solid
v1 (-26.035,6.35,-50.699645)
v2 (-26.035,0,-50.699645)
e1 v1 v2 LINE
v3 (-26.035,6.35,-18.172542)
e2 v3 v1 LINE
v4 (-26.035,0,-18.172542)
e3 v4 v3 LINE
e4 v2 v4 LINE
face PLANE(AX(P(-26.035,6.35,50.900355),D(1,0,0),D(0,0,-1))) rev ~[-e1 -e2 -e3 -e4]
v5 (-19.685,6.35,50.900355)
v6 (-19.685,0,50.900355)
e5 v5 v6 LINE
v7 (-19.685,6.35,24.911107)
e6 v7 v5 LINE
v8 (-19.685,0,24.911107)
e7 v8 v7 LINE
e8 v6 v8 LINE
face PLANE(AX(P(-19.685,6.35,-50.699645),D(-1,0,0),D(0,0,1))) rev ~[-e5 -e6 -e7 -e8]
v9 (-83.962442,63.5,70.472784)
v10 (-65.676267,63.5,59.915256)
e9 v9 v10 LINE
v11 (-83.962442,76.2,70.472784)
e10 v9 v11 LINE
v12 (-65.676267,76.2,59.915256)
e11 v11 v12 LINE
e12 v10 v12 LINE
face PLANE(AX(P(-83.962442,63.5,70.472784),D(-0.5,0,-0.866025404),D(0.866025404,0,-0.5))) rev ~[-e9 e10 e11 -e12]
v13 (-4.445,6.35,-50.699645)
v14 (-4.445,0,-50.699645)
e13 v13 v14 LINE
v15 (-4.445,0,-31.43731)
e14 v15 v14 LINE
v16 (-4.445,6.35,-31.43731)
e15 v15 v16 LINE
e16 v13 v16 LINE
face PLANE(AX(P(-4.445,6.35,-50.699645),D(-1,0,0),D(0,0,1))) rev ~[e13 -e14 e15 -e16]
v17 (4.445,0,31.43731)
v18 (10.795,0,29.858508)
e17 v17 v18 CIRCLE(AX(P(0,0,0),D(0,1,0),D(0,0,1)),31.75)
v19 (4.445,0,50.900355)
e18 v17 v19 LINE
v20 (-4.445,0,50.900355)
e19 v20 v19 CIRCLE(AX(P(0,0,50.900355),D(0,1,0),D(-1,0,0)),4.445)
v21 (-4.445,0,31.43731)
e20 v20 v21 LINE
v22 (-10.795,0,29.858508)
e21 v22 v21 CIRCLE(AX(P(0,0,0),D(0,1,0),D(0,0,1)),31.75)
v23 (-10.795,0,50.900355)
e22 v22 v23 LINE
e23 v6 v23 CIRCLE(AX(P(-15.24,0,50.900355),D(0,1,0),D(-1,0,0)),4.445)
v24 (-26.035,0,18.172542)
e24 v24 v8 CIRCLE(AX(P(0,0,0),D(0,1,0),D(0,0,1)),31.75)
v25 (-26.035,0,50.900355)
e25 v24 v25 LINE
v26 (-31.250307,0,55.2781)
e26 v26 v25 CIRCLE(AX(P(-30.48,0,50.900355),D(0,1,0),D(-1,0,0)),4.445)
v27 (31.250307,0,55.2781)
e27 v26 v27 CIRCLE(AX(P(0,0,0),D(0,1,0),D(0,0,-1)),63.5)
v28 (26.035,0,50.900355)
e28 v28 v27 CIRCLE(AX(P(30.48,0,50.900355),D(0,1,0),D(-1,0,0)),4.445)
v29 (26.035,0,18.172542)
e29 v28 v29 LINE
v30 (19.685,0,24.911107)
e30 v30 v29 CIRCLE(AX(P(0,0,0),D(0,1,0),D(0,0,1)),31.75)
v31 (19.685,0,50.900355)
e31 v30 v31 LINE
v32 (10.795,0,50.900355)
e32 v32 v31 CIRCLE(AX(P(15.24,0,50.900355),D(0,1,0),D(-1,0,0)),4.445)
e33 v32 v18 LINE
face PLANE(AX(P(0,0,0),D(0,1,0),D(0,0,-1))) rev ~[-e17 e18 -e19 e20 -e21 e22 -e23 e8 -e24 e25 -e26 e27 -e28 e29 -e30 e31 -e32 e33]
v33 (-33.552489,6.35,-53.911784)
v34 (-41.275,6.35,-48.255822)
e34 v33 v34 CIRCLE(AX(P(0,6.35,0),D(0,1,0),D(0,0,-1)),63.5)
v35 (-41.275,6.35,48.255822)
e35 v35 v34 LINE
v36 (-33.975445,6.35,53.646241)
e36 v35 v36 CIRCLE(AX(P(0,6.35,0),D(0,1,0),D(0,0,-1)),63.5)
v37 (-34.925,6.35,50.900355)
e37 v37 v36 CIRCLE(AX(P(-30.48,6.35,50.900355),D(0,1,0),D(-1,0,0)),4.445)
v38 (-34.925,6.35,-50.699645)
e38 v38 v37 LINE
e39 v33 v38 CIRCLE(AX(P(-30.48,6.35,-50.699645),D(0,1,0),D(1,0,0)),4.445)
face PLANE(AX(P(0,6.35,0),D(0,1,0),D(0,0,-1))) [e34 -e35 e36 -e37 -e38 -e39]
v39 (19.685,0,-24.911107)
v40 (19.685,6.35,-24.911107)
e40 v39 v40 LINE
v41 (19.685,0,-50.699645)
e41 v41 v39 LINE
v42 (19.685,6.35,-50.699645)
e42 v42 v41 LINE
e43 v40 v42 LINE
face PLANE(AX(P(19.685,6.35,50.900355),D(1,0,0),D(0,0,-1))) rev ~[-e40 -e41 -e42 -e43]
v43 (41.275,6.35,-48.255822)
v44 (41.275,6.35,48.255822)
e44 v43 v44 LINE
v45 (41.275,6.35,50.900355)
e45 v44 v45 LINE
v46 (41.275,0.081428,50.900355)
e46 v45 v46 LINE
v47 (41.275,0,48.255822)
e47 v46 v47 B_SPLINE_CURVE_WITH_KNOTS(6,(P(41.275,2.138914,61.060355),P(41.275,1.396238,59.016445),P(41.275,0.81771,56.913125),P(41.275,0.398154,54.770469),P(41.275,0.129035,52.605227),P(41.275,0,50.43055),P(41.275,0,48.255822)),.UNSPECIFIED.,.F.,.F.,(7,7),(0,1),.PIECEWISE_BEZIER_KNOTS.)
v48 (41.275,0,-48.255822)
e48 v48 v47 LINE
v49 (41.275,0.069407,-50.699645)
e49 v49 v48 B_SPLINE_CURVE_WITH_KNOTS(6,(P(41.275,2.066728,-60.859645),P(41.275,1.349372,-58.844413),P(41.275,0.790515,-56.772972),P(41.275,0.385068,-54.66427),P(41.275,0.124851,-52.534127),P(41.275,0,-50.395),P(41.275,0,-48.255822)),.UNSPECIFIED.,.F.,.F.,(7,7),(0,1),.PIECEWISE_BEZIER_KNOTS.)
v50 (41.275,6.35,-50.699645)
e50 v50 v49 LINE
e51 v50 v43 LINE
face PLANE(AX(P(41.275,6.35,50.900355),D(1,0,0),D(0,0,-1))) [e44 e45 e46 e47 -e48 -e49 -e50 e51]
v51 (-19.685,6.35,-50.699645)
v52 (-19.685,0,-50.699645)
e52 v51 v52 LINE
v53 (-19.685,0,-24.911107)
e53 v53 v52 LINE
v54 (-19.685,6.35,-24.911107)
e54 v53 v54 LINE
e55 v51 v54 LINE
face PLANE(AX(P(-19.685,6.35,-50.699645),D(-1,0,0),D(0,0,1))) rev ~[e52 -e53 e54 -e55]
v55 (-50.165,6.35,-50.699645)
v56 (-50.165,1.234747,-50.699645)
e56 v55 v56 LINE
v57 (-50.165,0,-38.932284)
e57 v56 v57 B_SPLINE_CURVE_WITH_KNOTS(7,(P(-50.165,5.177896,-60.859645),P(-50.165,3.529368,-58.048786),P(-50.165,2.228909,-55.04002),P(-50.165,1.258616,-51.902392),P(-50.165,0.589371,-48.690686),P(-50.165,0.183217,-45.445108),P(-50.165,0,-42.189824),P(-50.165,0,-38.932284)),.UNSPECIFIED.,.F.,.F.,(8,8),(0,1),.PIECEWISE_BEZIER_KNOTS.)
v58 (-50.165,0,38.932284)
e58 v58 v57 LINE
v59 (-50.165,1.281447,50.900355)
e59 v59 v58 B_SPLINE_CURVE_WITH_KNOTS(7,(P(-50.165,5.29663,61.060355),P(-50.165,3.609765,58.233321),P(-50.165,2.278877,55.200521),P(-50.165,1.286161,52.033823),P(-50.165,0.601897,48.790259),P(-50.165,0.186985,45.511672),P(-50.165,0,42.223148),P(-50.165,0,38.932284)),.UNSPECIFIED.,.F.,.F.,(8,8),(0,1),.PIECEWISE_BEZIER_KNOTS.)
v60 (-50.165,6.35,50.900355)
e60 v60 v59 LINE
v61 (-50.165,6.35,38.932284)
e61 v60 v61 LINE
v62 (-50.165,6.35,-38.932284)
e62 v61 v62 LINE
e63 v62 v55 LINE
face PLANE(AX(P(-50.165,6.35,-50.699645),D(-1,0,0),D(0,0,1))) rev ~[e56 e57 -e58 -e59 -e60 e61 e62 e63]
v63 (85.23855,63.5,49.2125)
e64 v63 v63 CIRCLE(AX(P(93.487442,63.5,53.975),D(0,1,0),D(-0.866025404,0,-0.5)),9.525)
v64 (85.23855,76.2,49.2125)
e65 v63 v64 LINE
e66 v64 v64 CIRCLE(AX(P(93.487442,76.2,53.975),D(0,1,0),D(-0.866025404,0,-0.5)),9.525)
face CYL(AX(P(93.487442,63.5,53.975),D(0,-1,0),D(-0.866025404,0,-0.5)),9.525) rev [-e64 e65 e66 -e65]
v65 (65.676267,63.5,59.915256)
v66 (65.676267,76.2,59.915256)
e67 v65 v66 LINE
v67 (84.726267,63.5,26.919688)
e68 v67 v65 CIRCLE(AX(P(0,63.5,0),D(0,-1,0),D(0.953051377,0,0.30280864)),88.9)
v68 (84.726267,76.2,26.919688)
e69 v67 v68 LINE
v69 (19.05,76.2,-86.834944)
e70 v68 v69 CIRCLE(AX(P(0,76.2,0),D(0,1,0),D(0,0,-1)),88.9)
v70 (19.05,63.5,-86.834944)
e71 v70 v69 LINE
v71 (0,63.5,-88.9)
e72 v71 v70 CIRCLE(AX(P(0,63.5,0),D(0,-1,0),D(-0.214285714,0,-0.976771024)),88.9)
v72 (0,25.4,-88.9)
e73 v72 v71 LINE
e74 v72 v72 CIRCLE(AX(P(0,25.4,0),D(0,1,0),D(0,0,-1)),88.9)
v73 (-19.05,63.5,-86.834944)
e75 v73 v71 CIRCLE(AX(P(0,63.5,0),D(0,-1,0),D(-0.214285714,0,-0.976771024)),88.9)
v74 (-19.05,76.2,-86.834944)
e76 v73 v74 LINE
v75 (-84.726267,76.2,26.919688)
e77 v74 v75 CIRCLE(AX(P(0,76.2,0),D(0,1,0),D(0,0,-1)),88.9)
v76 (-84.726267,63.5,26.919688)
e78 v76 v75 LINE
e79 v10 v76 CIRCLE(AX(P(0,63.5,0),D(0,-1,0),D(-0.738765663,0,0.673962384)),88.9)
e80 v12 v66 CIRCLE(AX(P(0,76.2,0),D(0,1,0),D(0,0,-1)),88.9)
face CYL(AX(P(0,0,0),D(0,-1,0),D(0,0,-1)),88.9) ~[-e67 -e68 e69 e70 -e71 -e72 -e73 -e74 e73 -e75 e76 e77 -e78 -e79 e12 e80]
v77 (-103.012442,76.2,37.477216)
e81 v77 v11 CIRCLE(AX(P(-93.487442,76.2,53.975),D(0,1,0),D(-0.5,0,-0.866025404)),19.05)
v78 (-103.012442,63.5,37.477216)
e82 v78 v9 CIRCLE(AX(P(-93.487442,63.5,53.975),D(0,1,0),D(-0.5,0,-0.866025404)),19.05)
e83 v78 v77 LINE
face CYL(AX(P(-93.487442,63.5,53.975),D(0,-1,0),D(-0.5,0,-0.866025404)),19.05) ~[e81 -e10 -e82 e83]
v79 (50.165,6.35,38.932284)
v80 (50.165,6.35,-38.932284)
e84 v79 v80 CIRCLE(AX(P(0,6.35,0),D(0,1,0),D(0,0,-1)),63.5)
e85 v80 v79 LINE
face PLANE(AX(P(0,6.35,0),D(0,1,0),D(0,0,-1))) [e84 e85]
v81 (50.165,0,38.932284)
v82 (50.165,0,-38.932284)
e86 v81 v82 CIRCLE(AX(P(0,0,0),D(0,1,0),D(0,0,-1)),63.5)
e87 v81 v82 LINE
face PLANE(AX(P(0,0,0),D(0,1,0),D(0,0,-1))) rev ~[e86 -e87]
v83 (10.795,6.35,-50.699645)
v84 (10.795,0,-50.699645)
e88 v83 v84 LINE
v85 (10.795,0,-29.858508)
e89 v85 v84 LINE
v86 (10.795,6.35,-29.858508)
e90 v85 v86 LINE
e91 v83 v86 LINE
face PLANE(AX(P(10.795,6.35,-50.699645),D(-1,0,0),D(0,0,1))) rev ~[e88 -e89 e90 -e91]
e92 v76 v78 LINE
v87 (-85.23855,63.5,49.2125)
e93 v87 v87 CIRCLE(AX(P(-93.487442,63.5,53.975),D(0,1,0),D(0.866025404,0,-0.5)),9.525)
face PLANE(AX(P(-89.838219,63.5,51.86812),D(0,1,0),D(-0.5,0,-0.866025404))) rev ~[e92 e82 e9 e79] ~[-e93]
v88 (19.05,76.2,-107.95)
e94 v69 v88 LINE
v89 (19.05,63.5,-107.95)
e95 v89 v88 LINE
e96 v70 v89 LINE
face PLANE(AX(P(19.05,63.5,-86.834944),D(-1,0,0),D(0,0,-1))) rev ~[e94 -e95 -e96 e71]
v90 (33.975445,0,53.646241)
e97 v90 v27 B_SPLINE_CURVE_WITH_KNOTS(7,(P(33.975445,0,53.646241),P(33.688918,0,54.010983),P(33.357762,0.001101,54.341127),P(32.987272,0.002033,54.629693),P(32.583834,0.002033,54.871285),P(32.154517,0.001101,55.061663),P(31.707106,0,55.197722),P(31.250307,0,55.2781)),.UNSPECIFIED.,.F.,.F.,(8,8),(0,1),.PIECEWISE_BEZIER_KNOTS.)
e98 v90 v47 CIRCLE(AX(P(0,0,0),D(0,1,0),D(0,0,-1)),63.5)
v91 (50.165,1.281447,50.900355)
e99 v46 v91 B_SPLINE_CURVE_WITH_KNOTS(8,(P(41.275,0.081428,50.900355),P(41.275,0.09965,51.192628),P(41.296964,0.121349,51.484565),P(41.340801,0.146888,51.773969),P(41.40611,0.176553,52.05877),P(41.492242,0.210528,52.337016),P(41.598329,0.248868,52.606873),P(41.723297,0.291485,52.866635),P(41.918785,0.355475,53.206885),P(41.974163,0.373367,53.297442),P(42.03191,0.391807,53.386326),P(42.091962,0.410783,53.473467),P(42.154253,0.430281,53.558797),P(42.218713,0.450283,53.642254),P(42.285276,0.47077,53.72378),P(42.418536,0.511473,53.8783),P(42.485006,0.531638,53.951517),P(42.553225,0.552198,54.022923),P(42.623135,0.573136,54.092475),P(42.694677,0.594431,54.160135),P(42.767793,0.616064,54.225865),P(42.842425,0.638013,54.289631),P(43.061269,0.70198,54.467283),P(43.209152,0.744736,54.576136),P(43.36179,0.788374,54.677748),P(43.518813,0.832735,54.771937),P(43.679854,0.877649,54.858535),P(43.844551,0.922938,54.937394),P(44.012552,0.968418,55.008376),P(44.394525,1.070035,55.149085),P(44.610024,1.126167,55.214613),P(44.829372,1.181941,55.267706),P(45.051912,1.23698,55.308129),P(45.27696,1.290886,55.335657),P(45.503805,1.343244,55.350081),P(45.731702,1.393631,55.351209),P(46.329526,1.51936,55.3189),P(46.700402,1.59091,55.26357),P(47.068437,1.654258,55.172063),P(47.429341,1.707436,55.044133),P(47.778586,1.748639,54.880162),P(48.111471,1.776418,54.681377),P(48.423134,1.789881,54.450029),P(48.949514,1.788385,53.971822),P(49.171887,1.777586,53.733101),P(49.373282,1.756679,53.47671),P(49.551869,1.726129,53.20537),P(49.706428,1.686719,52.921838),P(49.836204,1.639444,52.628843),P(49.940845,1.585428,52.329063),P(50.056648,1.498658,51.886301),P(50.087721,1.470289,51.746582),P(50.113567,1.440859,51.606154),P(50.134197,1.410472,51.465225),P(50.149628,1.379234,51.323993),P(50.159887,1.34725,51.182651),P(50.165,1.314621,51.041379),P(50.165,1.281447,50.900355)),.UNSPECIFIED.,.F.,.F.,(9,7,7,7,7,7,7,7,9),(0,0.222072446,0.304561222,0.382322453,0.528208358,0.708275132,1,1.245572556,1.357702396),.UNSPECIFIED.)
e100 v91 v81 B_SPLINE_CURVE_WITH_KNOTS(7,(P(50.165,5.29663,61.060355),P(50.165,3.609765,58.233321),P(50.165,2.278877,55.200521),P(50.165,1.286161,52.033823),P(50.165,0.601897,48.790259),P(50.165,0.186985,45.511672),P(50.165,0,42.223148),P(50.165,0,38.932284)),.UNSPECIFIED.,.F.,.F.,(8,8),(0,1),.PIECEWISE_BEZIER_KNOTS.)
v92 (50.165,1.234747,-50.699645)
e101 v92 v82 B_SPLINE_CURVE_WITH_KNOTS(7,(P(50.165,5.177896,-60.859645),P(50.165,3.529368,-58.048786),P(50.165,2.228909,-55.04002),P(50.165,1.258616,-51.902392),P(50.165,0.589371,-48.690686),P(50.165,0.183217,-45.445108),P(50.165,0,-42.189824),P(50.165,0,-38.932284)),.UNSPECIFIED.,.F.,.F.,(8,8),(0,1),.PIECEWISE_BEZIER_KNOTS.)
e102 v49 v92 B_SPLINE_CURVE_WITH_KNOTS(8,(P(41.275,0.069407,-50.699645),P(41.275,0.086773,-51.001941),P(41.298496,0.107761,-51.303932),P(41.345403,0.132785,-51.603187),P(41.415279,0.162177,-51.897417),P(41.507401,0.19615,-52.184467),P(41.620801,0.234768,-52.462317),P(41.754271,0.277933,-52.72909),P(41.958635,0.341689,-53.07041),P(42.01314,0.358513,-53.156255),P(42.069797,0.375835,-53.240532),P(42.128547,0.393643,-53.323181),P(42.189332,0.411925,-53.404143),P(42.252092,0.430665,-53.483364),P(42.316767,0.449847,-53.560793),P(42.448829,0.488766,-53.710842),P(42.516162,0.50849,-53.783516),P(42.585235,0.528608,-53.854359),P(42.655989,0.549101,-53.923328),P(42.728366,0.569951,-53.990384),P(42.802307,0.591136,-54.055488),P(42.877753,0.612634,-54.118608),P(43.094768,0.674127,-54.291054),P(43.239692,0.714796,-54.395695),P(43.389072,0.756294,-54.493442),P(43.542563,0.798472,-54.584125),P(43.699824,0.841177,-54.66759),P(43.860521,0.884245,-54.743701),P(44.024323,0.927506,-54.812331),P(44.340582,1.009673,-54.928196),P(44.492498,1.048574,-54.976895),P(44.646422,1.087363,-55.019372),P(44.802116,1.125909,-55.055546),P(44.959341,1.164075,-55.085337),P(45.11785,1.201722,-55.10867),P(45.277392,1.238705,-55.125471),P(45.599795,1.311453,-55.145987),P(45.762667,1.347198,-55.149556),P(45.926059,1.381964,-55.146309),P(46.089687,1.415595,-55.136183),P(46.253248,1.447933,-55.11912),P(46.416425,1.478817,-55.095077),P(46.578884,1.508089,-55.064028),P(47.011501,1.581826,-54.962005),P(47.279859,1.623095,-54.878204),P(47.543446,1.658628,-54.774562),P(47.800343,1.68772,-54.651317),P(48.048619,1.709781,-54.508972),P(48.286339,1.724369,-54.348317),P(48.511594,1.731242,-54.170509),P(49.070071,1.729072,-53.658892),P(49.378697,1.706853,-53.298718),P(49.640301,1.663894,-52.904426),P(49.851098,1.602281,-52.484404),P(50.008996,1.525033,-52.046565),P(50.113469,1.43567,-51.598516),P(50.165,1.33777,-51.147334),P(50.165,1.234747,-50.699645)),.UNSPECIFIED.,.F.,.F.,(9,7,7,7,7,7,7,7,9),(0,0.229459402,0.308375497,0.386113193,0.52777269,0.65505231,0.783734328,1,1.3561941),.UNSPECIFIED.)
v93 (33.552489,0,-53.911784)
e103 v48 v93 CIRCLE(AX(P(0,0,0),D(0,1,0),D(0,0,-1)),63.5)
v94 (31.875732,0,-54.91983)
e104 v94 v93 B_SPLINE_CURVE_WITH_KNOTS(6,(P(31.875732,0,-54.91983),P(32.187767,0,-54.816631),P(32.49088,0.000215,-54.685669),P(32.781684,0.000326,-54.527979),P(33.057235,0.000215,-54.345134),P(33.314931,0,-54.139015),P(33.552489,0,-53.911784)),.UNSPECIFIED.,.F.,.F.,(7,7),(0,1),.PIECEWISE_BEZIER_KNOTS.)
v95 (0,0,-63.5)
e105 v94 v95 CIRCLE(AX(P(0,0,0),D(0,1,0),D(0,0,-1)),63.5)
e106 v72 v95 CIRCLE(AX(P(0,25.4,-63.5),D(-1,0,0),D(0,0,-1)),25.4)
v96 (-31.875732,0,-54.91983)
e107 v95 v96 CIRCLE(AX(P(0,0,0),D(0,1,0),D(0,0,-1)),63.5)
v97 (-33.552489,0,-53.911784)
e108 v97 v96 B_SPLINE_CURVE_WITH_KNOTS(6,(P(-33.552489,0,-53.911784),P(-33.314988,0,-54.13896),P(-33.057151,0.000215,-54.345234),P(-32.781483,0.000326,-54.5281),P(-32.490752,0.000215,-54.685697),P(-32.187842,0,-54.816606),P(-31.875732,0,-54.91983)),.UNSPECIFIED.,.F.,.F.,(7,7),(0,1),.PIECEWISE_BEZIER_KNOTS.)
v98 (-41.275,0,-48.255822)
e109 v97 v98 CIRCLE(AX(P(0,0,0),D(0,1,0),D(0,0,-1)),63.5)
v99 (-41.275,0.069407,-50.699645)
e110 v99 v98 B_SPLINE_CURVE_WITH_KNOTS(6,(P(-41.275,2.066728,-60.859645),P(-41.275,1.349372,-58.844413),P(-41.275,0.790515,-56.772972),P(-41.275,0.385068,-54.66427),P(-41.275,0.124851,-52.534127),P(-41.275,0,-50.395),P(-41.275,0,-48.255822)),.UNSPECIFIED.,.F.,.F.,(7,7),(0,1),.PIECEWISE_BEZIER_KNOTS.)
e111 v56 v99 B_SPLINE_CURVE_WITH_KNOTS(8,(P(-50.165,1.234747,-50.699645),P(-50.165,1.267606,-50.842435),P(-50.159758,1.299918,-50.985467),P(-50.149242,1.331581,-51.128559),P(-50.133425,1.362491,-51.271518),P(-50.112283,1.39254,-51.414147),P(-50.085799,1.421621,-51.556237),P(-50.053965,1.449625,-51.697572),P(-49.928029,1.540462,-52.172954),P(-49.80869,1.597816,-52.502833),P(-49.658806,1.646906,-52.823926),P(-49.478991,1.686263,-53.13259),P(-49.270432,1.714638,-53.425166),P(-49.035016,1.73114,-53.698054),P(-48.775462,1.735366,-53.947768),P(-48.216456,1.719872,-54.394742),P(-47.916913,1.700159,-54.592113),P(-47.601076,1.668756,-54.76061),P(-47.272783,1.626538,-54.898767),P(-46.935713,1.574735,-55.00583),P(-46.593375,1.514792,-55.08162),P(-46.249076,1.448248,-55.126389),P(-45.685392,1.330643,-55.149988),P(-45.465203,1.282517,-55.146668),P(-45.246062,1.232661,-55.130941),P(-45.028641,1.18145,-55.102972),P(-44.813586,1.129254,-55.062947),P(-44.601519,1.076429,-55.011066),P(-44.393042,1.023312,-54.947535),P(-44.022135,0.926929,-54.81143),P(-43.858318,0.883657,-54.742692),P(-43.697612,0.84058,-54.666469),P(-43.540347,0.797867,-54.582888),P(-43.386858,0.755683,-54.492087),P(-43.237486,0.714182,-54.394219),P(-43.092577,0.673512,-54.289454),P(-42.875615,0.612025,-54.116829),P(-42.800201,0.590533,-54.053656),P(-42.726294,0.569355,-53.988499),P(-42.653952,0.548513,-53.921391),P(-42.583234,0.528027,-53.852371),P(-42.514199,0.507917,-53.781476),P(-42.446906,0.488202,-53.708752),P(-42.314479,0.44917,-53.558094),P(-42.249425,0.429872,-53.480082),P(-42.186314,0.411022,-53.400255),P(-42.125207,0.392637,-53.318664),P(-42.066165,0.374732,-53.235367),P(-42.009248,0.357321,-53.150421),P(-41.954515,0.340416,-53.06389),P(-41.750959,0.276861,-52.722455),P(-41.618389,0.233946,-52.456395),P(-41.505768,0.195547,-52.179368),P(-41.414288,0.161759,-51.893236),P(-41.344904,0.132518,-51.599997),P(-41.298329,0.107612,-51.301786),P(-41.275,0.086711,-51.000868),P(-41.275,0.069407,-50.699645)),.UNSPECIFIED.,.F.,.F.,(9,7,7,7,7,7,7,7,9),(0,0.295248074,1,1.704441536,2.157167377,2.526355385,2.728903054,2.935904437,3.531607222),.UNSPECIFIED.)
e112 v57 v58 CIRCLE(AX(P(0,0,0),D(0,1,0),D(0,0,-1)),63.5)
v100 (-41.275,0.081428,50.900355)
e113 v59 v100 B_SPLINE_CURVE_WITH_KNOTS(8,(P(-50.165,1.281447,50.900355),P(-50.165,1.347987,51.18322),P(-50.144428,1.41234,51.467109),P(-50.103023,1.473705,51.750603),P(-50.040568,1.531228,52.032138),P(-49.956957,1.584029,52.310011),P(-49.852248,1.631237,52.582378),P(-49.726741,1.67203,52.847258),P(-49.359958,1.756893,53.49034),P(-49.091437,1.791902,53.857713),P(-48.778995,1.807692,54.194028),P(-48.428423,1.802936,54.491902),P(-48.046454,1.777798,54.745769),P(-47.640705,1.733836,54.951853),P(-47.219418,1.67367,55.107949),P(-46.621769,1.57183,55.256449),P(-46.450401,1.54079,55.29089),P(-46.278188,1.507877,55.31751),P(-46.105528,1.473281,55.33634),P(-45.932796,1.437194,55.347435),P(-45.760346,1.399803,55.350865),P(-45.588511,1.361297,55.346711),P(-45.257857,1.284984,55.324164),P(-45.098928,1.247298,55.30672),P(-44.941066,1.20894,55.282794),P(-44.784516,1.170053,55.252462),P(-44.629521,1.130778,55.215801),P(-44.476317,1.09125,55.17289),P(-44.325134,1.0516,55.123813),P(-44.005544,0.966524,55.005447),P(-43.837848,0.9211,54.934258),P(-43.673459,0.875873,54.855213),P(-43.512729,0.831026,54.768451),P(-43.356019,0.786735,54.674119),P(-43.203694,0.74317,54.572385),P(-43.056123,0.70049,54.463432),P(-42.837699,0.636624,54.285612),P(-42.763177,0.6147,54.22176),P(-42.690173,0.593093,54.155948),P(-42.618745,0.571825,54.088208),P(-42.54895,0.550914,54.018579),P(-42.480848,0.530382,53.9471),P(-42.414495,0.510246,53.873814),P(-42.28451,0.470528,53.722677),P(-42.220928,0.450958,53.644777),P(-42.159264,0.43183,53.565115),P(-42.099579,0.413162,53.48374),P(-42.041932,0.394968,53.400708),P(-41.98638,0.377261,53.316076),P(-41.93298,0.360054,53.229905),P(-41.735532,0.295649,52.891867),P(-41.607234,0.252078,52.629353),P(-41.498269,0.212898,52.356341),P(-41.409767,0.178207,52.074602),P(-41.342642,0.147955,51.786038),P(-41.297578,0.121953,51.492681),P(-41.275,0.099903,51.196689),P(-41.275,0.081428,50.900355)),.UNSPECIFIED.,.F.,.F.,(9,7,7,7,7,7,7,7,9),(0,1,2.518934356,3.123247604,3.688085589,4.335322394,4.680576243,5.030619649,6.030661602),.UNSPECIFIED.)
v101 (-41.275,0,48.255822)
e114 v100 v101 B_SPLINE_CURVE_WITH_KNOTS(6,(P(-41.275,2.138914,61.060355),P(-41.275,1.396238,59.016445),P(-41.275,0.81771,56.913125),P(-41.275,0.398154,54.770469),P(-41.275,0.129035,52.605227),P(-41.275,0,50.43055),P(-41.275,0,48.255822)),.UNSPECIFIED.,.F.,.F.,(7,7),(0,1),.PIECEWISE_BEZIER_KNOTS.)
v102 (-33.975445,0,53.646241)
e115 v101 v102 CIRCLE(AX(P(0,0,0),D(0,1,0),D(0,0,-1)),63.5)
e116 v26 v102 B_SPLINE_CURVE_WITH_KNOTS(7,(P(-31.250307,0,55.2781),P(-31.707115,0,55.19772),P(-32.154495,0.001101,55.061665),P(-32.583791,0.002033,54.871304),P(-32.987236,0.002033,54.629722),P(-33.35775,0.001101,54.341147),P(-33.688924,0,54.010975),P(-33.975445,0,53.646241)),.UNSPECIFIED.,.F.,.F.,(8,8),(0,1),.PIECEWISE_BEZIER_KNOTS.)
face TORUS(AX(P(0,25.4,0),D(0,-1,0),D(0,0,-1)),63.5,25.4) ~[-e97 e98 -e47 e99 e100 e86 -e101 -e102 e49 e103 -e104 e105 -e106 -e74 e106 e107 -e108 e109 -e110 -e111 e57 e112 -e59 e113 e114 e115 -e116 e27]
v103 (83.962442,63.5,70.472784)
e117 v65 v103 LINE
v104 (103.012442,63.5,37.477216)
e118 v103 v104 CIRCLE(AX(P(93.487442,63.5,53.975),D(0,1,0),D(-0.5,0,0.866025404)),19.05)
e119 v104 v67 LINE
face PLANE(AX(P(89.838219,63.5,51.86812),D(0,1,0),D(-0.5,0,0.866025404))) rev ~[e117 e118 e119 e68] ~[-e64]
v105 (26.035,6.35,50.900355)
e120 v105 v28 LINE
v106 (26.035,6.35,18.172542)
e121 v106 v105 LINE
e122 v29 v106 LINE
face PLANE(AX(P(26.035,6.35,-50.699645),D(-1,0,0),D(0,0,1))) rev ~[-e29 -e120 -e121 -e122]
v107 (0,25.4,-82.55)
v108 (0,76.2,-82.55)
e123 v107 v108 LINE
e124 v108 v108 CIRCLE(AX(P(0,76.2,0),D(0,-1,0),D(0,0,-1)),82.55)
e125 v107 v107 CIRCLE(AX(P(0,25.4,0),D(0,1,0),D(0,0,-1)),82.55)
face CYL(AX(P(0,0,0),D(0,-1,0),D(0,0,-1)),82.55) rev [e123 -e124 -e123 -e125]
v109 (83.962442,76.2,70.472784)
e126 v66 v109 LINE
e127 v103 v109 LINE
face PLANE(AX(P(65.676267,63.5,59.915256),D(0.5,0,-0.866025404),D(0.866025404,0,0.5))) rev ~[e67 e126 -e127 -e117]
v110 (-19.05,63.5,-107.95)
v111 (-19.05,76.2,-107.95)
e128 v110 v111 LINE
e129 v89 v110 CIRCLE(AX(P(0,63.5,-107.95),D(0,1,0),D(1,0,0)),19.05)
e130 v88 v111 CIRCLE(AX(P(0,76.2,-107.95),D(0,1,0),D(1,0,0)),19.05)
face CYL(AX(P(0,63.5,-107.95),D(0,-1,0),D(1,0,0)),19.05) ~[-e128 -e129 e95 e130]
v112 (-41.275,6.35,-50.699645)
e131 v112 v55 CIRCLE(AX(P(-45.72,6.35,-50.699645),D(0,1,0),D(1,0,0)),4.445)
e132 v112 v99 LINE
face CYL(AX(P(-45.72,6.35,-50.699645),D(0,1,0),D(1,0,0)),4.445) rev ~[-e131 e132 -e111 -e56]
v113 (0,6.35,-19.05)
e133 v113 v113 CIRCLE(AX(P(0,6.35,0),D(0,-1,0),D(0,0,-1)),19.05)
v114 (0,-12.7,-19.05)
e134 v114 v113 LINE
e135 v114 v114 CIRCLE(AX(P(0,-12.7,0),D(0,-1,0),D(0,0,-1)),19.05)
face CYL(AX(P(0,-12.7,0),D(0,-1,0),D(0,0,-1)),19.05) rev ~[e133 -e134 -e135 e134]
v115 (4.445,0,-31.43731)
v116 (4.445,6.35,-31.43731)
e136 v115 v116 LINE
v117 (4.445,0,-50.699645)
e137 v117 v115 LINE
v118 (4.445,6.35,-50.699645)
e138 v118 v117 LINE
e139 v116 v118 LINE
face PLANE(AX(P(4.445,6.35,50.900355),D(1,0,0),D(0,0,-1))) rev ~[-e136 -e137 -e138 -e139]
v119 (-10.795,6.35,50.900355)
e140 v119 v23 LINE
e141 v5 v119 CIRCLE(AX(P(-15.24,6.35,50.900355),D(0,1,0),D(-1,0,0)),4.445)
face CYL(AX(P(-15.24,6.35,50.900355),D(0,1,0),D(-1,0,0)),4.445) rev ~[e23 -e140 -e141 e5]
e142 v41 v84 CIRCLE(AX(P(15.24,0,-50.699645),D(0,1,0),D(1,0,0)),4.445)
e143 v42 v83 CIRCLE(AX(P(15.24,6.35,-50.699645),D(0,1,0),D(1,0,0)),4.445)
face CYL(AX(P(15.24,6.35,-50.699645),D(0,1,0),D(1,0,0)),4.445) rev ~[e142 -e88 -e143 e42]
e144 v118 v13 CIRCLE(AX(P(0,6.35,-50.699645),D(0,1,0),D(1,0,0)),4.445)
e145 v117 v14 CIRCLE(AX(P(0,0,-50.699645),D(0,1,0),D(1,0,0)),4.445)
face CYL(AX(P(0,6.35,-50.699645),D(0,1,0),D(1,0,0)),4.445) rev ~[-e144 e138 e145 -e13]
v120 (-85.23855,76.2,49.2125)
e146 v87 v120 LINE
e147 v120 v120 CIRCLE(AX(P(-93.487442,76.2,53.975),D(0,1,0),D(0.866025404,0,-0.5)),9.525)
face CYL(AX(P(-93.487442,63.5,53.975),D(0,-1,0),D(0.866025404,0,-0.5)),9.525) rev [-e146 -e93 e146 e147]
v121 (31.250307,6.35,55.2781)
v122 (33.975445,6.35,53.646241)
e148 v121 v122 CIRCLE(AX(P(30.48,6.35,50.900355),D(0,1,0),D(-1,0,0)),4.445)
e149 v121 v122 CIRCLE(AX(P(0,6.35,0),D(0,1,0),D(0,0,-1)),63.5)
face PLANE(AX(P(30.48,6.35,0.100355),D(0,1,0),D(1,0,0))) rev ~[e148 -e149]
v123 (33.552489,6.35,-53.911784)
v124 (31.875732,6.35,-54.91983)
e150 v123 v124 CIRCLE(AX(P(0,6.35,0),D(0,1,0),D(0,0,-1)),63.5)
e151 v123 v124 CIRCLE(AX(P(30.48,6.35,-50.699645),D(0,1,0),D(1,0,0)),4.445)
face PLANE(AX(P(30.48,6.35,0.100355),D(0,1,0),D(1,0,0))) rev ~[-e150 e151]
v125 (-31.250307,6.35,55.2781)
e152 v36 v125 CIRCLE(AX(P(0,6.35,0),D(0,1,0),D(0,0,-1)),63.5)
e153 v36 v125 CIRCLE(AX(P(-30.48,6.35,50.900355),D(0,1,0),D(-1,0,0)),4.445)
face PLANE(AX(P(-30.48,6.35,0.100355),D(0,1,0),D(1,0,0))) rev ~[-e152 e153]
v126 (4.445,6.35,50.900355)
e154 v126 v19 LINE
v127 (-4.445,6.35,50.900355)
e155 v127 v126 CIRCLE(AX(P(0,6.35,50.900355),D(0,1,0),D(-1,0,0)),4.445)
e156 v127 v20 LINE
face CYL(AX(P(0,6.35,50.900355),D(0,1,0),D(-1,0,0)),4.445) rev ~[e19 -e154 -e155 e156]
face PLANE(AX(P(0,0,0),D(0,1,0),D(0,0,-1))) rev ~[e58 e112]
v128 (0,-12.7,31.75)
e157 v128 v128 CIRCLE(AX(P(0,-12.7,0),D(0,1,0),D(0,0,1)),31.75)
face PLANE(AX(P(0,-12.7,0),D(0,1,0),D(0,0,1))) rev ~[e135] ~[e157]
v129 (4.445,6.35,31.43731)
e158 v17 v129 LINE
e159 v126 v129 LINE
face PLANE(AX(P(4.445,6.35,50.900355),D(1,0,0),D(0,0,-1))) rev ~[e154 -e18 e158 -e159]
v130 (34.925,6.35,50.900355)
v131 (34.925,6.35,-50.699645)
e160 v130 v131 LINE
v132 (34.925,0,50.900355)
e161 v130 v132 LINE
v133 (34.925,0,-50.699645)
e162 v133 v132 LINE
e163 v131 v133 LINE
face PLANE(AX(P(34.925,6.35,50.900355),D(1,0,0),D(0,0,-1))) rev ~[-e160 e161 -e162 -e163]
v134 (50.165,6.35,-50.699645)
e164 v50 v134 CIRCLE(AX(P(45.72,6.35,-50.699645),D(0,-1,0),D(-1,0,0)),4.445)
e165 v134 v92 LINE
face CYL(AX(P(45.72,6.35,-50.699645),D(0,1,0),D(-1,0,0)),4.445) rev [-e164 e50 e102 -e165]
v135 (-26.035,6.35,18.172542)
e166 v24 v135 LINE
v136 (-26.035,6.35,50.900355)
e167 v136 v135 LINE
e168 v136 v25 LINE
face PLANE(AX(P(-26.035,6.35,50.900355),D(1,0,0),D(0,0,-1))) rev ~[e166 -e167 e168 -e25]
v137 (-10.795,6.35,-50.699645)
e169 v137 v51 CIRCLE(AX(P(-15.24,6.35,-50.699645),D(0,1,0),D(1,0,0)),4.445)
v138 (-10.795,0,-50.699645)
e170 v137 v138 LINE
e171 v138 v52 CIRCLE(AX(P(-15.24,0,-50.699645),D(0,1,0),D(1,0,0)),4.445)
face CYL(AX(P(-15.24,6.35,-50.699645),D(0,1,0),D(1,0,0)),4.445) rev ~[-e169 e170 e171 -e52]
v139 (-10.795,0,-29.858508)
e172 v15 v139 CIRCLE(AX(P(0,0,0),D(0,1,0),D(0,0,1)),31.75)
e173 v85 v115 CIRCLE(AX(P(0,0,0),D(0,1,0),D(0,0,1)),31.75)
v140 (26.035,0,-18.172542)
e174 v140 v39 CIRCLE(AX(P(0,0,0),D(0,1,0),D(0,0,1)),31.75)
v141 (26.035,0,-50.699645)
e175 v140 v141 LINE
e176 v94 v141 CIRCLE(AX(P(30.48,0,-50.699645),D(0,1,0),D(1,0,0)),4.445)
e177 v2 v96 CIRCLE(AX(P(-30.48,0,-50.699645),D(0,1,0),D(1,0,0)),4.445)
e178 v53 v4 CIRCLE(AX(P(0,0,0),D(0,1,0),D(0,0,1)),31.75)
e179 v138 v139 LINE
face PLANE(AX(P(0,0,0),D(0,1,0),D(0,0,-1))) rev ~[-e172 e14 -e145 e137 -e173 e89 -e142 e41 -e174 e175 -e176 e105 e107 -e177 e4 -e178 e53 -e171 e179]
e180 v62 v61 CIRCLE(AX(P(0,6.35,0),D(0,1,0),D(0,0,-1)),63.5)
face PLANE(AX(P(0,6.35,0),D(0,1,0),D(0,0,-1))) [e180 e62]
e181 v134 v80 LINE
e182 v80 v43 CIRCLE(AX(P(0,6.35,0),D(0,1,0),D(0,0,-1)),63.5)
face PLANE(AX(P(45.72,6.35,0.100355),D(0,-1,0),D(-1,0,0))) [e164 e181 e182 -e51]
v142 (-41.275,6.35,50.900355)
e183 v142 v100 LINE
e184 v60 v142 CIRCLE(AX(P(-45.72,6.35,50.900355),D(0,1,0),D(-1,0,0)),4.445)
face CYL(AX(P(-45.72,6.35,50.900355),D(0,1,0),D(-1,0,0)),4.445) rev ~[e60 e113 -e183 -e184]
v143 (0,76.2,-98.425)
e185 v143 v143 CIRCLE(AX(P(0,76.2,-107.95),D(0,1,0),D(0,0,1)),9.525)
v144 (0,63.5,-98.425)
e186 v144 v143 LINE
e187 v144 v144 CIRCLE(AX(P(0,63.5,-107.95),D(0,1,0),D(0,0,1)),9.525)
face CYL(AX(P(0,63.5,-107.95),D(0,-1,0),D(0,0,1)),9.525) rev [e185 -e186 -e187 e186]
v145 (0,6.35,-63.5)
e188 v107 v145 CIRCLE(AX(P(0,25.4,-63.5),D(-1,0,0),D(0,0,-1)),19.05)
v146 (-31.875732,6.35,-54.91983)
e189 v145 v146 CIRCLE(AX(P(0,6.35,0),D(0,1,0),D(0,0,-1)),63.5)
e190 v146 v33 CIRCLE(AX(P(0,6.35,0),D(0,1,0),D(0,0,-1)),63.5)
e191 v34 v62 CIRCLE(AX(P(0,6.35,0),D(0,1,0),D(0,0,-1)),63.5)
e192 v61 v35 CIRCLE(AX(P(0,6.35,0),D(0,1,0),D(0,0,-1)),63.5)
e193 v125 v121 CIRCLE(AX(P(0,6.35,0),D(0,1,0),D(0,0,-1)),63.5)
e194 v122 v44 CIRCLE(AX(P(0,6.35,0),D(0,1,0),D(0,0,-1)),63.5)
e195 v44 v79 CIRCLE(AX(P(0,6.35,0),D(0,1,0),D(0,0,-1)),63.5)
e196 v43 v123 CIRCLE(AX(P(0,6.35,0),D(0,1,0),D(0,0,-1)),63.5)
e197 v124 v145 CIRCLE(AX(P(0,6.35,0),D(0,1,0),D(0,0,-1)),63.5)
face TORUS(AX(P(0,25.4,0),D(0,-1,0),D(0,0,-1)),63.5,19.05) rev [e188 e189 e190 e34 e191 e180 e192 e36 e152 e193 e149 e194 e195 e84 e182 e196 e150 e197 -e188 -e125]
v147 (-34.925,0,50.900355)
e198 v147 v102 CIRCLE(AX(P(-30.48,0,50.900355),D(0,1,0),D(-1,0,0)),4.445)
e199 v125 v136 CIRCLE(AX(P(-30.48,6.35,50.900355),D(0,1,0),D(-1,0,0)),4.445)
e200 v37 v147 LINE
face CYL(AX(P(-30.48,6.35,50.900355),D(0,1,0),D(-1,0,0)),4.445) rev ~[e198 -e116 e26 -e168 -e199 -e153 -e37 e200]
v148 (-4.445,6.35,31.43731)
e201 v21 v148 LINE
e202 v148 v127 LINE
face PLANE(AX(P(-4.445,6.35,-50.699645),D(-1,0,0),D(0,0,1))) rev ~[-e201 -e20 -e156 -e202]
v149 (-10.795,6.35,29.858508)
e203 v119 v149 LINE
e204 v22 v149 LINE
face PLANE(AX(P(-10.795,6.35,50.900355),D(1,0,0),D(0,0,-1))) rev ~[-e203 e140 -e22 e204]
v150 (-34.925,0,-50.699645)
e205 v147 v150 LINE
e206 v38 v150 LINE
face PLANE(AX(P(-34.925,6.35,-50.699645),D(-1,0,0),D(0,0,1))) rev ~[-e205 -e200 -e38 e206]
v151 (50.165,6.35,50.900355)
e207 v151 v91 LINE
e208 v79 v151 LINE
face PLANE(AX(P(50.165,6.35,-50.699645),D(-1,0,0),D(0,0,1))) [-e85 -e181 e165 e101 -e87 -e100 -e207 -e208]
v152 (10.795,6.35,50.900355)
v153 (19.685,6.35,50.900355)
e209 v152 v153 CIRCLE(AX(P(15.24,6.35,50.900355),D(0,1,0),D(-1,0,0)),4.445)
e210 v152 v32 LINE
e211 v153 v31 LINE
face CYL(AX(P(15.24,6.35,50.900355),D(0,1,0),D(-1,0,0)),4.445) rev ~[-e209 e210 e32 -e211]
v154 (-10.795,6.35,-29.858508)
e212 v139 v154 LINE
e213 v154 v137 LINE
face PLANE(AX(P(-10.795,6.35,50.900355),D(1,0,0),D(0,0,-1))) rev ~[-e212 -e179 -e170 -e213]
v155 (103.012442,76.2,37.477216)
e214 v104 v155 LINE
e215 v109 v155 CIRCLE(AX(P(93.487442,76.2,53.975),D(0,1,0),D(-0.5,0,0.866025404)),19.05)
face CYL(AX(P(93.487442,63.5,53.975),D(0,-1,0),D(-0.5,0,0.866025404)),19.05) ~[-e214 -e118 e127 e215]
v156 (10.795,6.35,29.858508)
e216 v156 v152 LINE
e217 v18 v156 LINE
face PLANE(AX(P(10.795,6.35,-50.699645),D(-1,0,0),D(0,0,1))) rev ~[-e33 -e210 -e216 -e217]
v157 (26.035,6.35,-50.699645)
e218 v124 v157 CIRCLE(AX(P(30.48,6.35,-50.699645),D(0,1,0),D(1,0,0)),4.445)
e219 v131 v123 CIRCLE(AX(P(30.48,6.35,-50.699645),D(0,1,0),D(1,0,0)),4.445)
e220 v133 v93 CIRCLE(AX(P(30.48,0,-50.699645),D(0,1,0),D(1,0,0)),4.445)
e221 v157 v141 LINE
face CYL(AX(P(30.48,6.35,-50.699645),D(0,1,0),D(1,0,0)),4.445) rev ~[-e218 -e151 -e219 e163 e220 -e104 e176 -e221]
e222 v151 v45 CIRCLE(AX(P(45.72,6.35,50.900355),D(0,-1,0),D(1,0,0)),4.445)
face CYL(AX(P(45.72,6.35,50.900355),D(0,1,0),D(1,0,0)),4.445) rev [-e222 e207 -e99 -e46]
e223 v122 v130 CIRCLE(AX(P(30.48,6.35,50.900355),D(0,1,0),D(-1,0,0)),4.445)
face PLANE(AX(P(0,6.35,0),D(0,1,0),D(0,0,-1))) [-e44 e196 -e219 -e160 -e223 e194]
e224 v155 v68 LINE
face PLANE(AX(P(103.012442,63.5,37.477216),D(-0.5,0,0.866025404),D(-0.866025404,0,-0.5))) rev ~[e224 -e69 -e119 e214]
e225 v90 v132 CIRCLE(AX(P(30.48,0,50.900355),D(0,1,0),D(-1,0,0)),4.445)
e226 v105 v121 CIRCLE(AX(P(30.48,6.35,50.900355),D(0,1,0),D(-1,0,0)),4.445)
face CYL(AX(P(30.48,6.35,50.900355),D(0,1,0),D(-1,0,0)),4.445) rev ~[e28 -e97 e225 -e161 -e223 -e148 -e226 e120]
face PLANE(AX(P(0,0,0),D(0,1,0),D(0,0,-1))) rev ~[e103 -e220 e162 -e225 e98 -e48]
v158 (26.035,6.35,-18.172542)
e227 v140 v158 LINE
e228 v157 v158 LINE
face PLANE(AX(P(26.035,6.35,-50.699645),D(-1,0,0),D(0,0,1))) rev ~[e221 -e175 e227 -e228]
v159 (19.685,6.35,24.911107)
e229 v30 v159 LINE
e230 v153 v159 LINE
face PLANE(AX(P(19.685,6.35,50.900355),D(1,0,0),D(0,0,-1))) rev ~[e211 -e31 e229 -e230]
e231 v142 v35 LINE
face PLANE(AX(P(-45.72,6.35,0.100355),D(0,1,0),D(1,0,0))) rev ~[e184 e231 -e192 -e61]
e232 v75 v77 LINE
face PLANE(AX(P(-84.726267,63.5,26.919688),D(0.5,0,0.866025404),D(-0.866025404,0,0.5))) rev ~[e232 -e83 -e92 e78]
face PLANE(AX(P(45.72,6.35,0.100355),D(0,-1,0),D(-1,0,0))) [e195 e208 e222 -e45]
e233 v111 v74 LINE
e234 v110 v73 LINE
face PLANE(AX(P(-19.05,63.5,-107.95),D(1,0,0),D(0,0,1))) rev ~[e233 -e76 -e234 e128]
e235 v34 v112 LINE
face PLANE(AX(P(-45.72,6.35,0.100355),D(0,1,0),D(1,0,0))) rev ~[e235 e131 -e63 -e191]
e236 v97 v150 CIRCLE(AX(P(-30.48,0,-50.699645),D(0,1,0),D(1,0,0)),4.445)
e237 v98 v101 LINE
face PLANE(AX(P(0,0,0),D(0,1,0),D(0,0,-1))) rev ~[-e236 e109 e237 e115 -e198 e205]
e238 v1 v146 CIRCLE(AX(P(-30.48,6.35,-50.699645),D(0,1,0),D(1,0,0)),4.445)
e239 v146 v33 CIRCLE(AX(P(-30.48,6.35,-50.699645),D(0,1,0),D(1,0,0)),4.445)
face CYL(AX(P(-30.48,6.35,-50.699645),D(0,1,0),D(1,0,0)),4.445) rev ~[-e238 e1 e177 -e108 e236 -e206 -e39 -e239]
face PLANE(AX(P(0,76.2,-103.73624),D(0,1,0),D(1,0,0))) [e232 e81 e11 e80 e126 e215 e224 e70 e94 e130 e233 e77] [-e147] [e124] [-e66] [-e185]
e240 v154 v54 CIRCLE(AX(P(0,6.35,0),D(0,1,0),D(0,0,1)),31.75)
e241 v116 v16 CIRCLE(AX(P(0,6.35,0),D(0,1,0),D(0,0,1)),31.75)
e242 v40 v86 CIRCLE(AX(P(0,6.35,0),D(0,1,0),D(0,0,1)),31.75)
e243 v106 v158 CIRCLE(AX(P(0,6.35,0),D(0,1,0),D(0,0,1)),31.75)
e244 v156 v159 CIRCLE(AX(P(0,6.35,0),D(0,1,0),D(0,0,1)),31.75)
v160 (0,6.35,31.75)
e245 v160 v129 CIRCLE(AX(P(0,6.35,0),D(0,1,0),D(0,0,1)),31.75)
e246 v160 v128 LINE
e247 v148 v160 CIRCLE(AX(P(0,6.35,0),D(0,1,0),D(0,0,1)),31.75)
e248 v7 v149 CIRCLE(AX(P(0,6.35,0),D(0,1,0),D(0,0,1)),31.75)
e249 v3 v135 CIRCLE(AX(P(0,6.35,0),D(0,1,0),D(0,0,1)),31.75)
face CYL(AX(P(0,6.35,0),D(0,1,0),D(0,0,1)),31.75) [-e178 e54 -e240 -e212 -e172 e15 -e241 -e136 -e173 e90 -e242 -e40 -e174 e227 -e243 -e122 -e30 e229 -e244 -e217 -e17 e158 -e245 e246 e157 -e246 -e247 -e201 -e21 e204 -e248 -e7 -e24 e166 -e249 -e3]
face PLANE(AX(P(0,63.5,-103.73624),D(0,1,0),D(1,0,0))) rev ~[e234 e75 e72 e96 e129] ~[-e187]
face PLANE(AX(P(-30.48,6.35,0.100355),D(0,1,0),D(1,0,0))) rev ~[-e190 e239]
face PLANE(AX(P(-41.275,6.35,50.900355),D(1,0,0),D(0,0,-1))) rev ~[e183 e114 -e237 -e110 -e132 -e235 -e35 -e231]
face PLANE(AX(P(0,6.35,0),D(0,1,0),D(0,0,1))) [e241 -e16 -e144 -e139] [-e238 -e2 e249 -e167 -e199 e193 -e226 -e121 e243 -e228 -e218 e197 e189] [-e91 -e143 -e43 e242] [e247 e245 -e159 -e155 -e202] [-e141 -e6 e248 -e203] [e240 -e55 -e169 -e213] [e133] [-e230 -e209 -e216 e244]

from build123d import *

# Parameters (mm, degrees)
SKETCH2_R           = 88.9
BOSS_EXTRUDE1_DEPTH = 76.2
FILLET1_R           = 25.4
SHELL1_T            = -6.35
CUT_EXTRUDE1_REACH  = 145.824
SKETCH6_R           = 31.75
BOSS_EXTRUDE2_DEPTH = 19.05
CUT_EXTRUDE2_REACH  = 155.979
SKETCH7_R           = 19.05
BOSS_EXTRUDE3_START = -12.7
SKETCH9_R           = 9.525
BOSS_EXTRUDE3_DEPTH = 12.7
CIRPATTERN1_COUNT   = 3


with BuildPart() as part:
    # Sketch2 → Boss-Extrude1 (new body)
    with BuildSketch(Plane(origin=(0, 0, 0), x_dir=(1, 0, 0), z_dir=(0, 1, 0))):
        with Locations(Location((0, 0, 0), (0, 0, 90))):
            Circle(SKETCH2_R)
    extrude(amount=BOSS_EXTRUDE1_DEPTH)

    # Fillet1
    fillet1_edges = [part.edges().sort_by_distance(p)[0] for p in [
        (0, 0, 88.9),
    ]]
    fillet(fillet1_edges, radius=FILLET1_R)

    # Shell1
    shell1_openings = [part.faces().sort_by_distance(p)[0] for p in [
        (0, 76.2, 0),
    ]]
    offset(amount=SHELL1_T, openings=shell1_openings, kind=Kind.INTERSECTION)

    # Sketch3 → Cut-Extrude1 (cut, up to next)
    with BuildSketch(Plane(origin=(0, 6.35, 0), x_dir=(1, 0, 0), z_dir=(0, 1, 0)), mode=Mode.PRIVATE) as cut_extrude1_sk1:
        with BuildLine():
            Line((50.165, 50.699645362), (50.165, -50.900354638))
            ThreePointArc((50.165, -50.900354638), (45.72, -55.345354638), (41.275, -50.900354638))
            Line((41.275, -50.900354638), (41.275, 50.699645362))
            ThreePointArc((41.275, 50.699645362), (45.72, 55.144645362), (50.165, 50.699645362))
        make_face()
    cut_extrude1_tool1 = extrude(cut_extrude1_sk1.sketch, amount=-CUT_EXTRUDE1_REACH, mode=Mode.PRIVATE) & part.part
    # Sketch3 → Cut-Extrude1 (cut, up to next)
    with BuildSketch(Plane(origin=(0, 6.35, 0), x_dir=(1, 0, 0), z_dir=(0, 1, 0)), mode=Mode.PRIVATE) as cut_extrude1_sk2:
        with BuildLine():
            Line((26.035, 50.699645362), (26.035, -50.900354638))
            ThreePointArc((26.035, -50.900354638), (30.48, -55.345354638), (34.925, -50.900354638))
            Line((34.925, -50.900354638), (34.925, 50.699645362))
            ThreePointArc((34.925, 50.699645362), (30.48, 55.144645362), (26.035, 50.699645362))
        make_face()
    cut_extrude1_tool2 = extrude(cut_extrude1_sk2.sketch, amount=-CUT_EXTRUDE1_REACH, mode=Mode.PRIVATE) & part.part
    # Sketch3 → Cut-Extrude1 (cut, up to next)
    with BuildSketch(Plane(origin=(0, 6.35, 0), x_dir=(1, 0, 0), z_dir=(0, 1, 0)), mode=Mode.PRIVATE) as cut_extrude1_sk3:
        with BuildLine():
            Line((10.795, 50.699645362), (10.795, -50.900354638))
            ThreePointArc((10.795, -50.900354638), (15.24, -55.345354638), (19.685, -50.900354638))
            Line((19.685, -50.900354638), (19.685, 50.699645362))
            ThreePointArc((19.685, 50.699645362), (15.24, 55.144645362), (10.795, 50.699645362))
        make_face()
    cut_extrude1_tool3 = extrude(cut_extrude1_sk3.sketch, amount=-CUT_EXTRUDE1_REACH, mode=Mode.PRIVATE) & part.part
    # Sketch3 → Cut-Extrude1 (cut, up to next)
    with BuildSketch(Plane(origin=(0, 6.35, 0), x_dir=(1, 0, 0), z_dir=(0, 1, 0)), mode=Mode.PRIVATE) as cut_extrude1_sk4:
        with BuildLine():
            Line((-4.445, 50.699645362), (-4.445, -50.900354638))
            ThreePointArc((-4.445, -50.900354638), (0, -55.345354638), (4.445, -50.900354638))
            Line((4.445, -50.900354638), (4.445, 50.699645362))
            ThreePointArc((4.445, 50.699645362), (0, 55.144645362), (-4.445, 50.699645362))
        make_face()
    cut_extrude1_tool4 = extrude(cut_extrude1_sk4.sketch, amount=-CUT_EXTRUDE1_REACH, mode=Mode.PRIVATE) & part.part
    # Sketch3 → Cut-Extrude1 (cut, up to next)
    with BuildSketch(Plane(origin=(0, 6.35, 0), x_dir=(1, 0, 0), z_dir=(0, 1, 0)), mode=Mode.PRIVATE) as cut_extrude1_sk5:
        with BuildLine():
            Line((-19.685, 50.699645362), (-19.685, -50.900354638))
            ThreePointArc((-19.685, -50.900354638), (-15.24, -55.345354638), (-10.795, -50.900354638))
            Line((-10.795, -50.900354638), (-10.795, 50.699645362))
            ThreePointArc((-10.795, 50.699645362), (-15.24, 55.144645362), (-19.685, 50.699645362))
        make_face()
    cut_extrude1_tool5 = extrude(cut_extrude1_sk5.sketch, amount=-CUT_EXTRUDE1_REACH, mode=Mode.PRIVATE) & part.part
    # Sketch3 → Cut-Extrude1 (cut, up to next)
    with BuildSketch(Plane(origin=(0, 6.35, 0), x_dir=(1, 0, 0), z_dir=(0, 1, 0)), mode=Mode.PRIVATE) as cut_extrude1_sk6:
        with BuildLine():
            Line((-34.925, 50.699645362), (-34.925, -50.900354638))
            ThreePointArc((-34.925, -50.900354638), (-30.48, -55.345354638), (-26.035, -50.900354638))
            Line((-26.035, -50.900354638), (-26.035, 50.699645362))
            ThreePointArc((-26.035, 50.699645362), (-30.48, 55.144645362), (-34.925, 50.699645362))
        make_face()
    cut_extrude1_tool6 = extrude(cut_extrude1_sk6.sketch, amount=-CUT_EXTRUDE1_REACH, mode=Mode.PRIVATE) & part.part
    # Sketch3 → Cut-Extrude1 (cut, up to next)
    with BuildSketch(Plane(origin=(0, 6.35, 0), x_dir=(1, 0, 0), z_dir=(0, 1, 0)), mode=Mode.PRIVATE) as cut_extrude1_sk7:
        with BuildLine():
            Line((-50.165, 50.699645362), (-50.165, -50.900354638))
            ThreePointArc((-50.165, -50.900354638), (-45.72, -55.345354638), (-41.275, -50.900354638))
            Line((-41.275, -50.900354638), (-41.275, 50.699645362))
            ThreePointArc((-41.275, 50.699645362), (-45.72, 55.144645362), (-50.165, 50.699645362))
        make_face()
    cut_extrude1_tool7 = extrude(cut_extrude1_sk7.sketch, amount=-CUT_EXTRUDE1_REACH, mode=Mode.PRIVATE) & part.part
    add(cut_extrude1_tool1.solids().sort_by_distance((45.72, 6.35, 0.100355))[0], mode=Mode.SUBTRACT)
    add(cut_extrude1_tool2.solids().sort_by_distance((30.48, 6.35, 0.100355))[0], mode=Mode.SUBTRACT)
    add(cut_extrude1_tool3.solids().sort_by_distance((15.24, 6.35, 0.100355))[0], mode=Mode.SUBTRACT)
    add(cut_extrude1_tool4.solids().sort_by_distance((0, 6.35, 0.100355))[0], mode=Mode.SUBTRACT)
    add(cut_extrude1_tool5.solids().sort_by_distance((-15.24, 6.35, 0.100355))[0], mode=Mode.SUBTRACT)
    add(cut_extrude1_tool6.solids().sort_by_distance((-30.48, 6.35, 0.100355))[0], mode=Mode.SUBTRACT)
    add(cut_extrude1_tool7.solids().sort_by_distance((-45.72, 6.35, 0.100355))[0], mode=Mode.SUBTRACT)

    # Sketch6 → Boss-Extrude2 (add)
    with BuildSketch(Plane(origin=(0, 6.35, 0), x_dir=(1, 0, 0), z_dir=(0, 1, 0))):
        with Locations(Location((0, 0, 0), (0, 0, 270))):
            Circle(SKETCH6_R)
    extrude(amount=-BOSS_EXTRUDE2_DEPTH)

    # Sketch7 → Cut-Extrude2 (cut, up to next)
    with BuildSketch(Plane.XZ.offset(12.7), mode=Mode.PRIVATE) as cut_extrude2_sk1:
        with Locations(Location((0, 0, 0), (0, 0, 270))):
            Circle(SKETCH7_R)
    cut_extrude2_tool1 = extrude(cut_extrude2_sk1.sketch, amount=-CUT_EXTRUDE2_REACH, mode=Mode.PRIVATE) & part.part
    add(cut_extrude2_tool1.solids().sort_by_distance((0, -12.7, 0))[0], mode=Mode.SUBTRACT)

    # Sketch9 → Boss-Extrude3 (add)
    with BuildSketch(Plane(origin=(0, 76.2, 0), x_dir=(1, 0, 0), z_dir=(0, 1, 0)).offset(BOSS_EXTRUDE3_START)):
        with BuildLine():
            Line((-19.05, 107.95), (-19.05, 86.834944003))
            ThreePointArc((-19.05, 86.834944003), (0, 88.9), (19.05, 86.834944003))
            Line((19.05, 86.834944003), (19.05, 107.95))
            ThreePointArc((19.05, 107.95), (0, 127), (-19.05, 107.95))
        make_face()
        with Locations(Location((0, 107.95, 0), (0, 0, 270))):
            Circle(SKETCH9_R, mode=Mode.SUBTRACT)
    boss_extrude3 = extrude(amount=BOSS_EXTRUDE3_DEPTH)

    # CirPattern1: Boss-Extrude3 ×3 about axis
    cirpattern1_axis = Axis((0, 0, 0), (0, 1, 0))
    for i in range(1, CIRPATTERN1_COUNT):
        add(boss_extrude3.rotate(cirpattern1_axis, i * 360 / CIRPATTERN1_COUNT))


solid = part.part
